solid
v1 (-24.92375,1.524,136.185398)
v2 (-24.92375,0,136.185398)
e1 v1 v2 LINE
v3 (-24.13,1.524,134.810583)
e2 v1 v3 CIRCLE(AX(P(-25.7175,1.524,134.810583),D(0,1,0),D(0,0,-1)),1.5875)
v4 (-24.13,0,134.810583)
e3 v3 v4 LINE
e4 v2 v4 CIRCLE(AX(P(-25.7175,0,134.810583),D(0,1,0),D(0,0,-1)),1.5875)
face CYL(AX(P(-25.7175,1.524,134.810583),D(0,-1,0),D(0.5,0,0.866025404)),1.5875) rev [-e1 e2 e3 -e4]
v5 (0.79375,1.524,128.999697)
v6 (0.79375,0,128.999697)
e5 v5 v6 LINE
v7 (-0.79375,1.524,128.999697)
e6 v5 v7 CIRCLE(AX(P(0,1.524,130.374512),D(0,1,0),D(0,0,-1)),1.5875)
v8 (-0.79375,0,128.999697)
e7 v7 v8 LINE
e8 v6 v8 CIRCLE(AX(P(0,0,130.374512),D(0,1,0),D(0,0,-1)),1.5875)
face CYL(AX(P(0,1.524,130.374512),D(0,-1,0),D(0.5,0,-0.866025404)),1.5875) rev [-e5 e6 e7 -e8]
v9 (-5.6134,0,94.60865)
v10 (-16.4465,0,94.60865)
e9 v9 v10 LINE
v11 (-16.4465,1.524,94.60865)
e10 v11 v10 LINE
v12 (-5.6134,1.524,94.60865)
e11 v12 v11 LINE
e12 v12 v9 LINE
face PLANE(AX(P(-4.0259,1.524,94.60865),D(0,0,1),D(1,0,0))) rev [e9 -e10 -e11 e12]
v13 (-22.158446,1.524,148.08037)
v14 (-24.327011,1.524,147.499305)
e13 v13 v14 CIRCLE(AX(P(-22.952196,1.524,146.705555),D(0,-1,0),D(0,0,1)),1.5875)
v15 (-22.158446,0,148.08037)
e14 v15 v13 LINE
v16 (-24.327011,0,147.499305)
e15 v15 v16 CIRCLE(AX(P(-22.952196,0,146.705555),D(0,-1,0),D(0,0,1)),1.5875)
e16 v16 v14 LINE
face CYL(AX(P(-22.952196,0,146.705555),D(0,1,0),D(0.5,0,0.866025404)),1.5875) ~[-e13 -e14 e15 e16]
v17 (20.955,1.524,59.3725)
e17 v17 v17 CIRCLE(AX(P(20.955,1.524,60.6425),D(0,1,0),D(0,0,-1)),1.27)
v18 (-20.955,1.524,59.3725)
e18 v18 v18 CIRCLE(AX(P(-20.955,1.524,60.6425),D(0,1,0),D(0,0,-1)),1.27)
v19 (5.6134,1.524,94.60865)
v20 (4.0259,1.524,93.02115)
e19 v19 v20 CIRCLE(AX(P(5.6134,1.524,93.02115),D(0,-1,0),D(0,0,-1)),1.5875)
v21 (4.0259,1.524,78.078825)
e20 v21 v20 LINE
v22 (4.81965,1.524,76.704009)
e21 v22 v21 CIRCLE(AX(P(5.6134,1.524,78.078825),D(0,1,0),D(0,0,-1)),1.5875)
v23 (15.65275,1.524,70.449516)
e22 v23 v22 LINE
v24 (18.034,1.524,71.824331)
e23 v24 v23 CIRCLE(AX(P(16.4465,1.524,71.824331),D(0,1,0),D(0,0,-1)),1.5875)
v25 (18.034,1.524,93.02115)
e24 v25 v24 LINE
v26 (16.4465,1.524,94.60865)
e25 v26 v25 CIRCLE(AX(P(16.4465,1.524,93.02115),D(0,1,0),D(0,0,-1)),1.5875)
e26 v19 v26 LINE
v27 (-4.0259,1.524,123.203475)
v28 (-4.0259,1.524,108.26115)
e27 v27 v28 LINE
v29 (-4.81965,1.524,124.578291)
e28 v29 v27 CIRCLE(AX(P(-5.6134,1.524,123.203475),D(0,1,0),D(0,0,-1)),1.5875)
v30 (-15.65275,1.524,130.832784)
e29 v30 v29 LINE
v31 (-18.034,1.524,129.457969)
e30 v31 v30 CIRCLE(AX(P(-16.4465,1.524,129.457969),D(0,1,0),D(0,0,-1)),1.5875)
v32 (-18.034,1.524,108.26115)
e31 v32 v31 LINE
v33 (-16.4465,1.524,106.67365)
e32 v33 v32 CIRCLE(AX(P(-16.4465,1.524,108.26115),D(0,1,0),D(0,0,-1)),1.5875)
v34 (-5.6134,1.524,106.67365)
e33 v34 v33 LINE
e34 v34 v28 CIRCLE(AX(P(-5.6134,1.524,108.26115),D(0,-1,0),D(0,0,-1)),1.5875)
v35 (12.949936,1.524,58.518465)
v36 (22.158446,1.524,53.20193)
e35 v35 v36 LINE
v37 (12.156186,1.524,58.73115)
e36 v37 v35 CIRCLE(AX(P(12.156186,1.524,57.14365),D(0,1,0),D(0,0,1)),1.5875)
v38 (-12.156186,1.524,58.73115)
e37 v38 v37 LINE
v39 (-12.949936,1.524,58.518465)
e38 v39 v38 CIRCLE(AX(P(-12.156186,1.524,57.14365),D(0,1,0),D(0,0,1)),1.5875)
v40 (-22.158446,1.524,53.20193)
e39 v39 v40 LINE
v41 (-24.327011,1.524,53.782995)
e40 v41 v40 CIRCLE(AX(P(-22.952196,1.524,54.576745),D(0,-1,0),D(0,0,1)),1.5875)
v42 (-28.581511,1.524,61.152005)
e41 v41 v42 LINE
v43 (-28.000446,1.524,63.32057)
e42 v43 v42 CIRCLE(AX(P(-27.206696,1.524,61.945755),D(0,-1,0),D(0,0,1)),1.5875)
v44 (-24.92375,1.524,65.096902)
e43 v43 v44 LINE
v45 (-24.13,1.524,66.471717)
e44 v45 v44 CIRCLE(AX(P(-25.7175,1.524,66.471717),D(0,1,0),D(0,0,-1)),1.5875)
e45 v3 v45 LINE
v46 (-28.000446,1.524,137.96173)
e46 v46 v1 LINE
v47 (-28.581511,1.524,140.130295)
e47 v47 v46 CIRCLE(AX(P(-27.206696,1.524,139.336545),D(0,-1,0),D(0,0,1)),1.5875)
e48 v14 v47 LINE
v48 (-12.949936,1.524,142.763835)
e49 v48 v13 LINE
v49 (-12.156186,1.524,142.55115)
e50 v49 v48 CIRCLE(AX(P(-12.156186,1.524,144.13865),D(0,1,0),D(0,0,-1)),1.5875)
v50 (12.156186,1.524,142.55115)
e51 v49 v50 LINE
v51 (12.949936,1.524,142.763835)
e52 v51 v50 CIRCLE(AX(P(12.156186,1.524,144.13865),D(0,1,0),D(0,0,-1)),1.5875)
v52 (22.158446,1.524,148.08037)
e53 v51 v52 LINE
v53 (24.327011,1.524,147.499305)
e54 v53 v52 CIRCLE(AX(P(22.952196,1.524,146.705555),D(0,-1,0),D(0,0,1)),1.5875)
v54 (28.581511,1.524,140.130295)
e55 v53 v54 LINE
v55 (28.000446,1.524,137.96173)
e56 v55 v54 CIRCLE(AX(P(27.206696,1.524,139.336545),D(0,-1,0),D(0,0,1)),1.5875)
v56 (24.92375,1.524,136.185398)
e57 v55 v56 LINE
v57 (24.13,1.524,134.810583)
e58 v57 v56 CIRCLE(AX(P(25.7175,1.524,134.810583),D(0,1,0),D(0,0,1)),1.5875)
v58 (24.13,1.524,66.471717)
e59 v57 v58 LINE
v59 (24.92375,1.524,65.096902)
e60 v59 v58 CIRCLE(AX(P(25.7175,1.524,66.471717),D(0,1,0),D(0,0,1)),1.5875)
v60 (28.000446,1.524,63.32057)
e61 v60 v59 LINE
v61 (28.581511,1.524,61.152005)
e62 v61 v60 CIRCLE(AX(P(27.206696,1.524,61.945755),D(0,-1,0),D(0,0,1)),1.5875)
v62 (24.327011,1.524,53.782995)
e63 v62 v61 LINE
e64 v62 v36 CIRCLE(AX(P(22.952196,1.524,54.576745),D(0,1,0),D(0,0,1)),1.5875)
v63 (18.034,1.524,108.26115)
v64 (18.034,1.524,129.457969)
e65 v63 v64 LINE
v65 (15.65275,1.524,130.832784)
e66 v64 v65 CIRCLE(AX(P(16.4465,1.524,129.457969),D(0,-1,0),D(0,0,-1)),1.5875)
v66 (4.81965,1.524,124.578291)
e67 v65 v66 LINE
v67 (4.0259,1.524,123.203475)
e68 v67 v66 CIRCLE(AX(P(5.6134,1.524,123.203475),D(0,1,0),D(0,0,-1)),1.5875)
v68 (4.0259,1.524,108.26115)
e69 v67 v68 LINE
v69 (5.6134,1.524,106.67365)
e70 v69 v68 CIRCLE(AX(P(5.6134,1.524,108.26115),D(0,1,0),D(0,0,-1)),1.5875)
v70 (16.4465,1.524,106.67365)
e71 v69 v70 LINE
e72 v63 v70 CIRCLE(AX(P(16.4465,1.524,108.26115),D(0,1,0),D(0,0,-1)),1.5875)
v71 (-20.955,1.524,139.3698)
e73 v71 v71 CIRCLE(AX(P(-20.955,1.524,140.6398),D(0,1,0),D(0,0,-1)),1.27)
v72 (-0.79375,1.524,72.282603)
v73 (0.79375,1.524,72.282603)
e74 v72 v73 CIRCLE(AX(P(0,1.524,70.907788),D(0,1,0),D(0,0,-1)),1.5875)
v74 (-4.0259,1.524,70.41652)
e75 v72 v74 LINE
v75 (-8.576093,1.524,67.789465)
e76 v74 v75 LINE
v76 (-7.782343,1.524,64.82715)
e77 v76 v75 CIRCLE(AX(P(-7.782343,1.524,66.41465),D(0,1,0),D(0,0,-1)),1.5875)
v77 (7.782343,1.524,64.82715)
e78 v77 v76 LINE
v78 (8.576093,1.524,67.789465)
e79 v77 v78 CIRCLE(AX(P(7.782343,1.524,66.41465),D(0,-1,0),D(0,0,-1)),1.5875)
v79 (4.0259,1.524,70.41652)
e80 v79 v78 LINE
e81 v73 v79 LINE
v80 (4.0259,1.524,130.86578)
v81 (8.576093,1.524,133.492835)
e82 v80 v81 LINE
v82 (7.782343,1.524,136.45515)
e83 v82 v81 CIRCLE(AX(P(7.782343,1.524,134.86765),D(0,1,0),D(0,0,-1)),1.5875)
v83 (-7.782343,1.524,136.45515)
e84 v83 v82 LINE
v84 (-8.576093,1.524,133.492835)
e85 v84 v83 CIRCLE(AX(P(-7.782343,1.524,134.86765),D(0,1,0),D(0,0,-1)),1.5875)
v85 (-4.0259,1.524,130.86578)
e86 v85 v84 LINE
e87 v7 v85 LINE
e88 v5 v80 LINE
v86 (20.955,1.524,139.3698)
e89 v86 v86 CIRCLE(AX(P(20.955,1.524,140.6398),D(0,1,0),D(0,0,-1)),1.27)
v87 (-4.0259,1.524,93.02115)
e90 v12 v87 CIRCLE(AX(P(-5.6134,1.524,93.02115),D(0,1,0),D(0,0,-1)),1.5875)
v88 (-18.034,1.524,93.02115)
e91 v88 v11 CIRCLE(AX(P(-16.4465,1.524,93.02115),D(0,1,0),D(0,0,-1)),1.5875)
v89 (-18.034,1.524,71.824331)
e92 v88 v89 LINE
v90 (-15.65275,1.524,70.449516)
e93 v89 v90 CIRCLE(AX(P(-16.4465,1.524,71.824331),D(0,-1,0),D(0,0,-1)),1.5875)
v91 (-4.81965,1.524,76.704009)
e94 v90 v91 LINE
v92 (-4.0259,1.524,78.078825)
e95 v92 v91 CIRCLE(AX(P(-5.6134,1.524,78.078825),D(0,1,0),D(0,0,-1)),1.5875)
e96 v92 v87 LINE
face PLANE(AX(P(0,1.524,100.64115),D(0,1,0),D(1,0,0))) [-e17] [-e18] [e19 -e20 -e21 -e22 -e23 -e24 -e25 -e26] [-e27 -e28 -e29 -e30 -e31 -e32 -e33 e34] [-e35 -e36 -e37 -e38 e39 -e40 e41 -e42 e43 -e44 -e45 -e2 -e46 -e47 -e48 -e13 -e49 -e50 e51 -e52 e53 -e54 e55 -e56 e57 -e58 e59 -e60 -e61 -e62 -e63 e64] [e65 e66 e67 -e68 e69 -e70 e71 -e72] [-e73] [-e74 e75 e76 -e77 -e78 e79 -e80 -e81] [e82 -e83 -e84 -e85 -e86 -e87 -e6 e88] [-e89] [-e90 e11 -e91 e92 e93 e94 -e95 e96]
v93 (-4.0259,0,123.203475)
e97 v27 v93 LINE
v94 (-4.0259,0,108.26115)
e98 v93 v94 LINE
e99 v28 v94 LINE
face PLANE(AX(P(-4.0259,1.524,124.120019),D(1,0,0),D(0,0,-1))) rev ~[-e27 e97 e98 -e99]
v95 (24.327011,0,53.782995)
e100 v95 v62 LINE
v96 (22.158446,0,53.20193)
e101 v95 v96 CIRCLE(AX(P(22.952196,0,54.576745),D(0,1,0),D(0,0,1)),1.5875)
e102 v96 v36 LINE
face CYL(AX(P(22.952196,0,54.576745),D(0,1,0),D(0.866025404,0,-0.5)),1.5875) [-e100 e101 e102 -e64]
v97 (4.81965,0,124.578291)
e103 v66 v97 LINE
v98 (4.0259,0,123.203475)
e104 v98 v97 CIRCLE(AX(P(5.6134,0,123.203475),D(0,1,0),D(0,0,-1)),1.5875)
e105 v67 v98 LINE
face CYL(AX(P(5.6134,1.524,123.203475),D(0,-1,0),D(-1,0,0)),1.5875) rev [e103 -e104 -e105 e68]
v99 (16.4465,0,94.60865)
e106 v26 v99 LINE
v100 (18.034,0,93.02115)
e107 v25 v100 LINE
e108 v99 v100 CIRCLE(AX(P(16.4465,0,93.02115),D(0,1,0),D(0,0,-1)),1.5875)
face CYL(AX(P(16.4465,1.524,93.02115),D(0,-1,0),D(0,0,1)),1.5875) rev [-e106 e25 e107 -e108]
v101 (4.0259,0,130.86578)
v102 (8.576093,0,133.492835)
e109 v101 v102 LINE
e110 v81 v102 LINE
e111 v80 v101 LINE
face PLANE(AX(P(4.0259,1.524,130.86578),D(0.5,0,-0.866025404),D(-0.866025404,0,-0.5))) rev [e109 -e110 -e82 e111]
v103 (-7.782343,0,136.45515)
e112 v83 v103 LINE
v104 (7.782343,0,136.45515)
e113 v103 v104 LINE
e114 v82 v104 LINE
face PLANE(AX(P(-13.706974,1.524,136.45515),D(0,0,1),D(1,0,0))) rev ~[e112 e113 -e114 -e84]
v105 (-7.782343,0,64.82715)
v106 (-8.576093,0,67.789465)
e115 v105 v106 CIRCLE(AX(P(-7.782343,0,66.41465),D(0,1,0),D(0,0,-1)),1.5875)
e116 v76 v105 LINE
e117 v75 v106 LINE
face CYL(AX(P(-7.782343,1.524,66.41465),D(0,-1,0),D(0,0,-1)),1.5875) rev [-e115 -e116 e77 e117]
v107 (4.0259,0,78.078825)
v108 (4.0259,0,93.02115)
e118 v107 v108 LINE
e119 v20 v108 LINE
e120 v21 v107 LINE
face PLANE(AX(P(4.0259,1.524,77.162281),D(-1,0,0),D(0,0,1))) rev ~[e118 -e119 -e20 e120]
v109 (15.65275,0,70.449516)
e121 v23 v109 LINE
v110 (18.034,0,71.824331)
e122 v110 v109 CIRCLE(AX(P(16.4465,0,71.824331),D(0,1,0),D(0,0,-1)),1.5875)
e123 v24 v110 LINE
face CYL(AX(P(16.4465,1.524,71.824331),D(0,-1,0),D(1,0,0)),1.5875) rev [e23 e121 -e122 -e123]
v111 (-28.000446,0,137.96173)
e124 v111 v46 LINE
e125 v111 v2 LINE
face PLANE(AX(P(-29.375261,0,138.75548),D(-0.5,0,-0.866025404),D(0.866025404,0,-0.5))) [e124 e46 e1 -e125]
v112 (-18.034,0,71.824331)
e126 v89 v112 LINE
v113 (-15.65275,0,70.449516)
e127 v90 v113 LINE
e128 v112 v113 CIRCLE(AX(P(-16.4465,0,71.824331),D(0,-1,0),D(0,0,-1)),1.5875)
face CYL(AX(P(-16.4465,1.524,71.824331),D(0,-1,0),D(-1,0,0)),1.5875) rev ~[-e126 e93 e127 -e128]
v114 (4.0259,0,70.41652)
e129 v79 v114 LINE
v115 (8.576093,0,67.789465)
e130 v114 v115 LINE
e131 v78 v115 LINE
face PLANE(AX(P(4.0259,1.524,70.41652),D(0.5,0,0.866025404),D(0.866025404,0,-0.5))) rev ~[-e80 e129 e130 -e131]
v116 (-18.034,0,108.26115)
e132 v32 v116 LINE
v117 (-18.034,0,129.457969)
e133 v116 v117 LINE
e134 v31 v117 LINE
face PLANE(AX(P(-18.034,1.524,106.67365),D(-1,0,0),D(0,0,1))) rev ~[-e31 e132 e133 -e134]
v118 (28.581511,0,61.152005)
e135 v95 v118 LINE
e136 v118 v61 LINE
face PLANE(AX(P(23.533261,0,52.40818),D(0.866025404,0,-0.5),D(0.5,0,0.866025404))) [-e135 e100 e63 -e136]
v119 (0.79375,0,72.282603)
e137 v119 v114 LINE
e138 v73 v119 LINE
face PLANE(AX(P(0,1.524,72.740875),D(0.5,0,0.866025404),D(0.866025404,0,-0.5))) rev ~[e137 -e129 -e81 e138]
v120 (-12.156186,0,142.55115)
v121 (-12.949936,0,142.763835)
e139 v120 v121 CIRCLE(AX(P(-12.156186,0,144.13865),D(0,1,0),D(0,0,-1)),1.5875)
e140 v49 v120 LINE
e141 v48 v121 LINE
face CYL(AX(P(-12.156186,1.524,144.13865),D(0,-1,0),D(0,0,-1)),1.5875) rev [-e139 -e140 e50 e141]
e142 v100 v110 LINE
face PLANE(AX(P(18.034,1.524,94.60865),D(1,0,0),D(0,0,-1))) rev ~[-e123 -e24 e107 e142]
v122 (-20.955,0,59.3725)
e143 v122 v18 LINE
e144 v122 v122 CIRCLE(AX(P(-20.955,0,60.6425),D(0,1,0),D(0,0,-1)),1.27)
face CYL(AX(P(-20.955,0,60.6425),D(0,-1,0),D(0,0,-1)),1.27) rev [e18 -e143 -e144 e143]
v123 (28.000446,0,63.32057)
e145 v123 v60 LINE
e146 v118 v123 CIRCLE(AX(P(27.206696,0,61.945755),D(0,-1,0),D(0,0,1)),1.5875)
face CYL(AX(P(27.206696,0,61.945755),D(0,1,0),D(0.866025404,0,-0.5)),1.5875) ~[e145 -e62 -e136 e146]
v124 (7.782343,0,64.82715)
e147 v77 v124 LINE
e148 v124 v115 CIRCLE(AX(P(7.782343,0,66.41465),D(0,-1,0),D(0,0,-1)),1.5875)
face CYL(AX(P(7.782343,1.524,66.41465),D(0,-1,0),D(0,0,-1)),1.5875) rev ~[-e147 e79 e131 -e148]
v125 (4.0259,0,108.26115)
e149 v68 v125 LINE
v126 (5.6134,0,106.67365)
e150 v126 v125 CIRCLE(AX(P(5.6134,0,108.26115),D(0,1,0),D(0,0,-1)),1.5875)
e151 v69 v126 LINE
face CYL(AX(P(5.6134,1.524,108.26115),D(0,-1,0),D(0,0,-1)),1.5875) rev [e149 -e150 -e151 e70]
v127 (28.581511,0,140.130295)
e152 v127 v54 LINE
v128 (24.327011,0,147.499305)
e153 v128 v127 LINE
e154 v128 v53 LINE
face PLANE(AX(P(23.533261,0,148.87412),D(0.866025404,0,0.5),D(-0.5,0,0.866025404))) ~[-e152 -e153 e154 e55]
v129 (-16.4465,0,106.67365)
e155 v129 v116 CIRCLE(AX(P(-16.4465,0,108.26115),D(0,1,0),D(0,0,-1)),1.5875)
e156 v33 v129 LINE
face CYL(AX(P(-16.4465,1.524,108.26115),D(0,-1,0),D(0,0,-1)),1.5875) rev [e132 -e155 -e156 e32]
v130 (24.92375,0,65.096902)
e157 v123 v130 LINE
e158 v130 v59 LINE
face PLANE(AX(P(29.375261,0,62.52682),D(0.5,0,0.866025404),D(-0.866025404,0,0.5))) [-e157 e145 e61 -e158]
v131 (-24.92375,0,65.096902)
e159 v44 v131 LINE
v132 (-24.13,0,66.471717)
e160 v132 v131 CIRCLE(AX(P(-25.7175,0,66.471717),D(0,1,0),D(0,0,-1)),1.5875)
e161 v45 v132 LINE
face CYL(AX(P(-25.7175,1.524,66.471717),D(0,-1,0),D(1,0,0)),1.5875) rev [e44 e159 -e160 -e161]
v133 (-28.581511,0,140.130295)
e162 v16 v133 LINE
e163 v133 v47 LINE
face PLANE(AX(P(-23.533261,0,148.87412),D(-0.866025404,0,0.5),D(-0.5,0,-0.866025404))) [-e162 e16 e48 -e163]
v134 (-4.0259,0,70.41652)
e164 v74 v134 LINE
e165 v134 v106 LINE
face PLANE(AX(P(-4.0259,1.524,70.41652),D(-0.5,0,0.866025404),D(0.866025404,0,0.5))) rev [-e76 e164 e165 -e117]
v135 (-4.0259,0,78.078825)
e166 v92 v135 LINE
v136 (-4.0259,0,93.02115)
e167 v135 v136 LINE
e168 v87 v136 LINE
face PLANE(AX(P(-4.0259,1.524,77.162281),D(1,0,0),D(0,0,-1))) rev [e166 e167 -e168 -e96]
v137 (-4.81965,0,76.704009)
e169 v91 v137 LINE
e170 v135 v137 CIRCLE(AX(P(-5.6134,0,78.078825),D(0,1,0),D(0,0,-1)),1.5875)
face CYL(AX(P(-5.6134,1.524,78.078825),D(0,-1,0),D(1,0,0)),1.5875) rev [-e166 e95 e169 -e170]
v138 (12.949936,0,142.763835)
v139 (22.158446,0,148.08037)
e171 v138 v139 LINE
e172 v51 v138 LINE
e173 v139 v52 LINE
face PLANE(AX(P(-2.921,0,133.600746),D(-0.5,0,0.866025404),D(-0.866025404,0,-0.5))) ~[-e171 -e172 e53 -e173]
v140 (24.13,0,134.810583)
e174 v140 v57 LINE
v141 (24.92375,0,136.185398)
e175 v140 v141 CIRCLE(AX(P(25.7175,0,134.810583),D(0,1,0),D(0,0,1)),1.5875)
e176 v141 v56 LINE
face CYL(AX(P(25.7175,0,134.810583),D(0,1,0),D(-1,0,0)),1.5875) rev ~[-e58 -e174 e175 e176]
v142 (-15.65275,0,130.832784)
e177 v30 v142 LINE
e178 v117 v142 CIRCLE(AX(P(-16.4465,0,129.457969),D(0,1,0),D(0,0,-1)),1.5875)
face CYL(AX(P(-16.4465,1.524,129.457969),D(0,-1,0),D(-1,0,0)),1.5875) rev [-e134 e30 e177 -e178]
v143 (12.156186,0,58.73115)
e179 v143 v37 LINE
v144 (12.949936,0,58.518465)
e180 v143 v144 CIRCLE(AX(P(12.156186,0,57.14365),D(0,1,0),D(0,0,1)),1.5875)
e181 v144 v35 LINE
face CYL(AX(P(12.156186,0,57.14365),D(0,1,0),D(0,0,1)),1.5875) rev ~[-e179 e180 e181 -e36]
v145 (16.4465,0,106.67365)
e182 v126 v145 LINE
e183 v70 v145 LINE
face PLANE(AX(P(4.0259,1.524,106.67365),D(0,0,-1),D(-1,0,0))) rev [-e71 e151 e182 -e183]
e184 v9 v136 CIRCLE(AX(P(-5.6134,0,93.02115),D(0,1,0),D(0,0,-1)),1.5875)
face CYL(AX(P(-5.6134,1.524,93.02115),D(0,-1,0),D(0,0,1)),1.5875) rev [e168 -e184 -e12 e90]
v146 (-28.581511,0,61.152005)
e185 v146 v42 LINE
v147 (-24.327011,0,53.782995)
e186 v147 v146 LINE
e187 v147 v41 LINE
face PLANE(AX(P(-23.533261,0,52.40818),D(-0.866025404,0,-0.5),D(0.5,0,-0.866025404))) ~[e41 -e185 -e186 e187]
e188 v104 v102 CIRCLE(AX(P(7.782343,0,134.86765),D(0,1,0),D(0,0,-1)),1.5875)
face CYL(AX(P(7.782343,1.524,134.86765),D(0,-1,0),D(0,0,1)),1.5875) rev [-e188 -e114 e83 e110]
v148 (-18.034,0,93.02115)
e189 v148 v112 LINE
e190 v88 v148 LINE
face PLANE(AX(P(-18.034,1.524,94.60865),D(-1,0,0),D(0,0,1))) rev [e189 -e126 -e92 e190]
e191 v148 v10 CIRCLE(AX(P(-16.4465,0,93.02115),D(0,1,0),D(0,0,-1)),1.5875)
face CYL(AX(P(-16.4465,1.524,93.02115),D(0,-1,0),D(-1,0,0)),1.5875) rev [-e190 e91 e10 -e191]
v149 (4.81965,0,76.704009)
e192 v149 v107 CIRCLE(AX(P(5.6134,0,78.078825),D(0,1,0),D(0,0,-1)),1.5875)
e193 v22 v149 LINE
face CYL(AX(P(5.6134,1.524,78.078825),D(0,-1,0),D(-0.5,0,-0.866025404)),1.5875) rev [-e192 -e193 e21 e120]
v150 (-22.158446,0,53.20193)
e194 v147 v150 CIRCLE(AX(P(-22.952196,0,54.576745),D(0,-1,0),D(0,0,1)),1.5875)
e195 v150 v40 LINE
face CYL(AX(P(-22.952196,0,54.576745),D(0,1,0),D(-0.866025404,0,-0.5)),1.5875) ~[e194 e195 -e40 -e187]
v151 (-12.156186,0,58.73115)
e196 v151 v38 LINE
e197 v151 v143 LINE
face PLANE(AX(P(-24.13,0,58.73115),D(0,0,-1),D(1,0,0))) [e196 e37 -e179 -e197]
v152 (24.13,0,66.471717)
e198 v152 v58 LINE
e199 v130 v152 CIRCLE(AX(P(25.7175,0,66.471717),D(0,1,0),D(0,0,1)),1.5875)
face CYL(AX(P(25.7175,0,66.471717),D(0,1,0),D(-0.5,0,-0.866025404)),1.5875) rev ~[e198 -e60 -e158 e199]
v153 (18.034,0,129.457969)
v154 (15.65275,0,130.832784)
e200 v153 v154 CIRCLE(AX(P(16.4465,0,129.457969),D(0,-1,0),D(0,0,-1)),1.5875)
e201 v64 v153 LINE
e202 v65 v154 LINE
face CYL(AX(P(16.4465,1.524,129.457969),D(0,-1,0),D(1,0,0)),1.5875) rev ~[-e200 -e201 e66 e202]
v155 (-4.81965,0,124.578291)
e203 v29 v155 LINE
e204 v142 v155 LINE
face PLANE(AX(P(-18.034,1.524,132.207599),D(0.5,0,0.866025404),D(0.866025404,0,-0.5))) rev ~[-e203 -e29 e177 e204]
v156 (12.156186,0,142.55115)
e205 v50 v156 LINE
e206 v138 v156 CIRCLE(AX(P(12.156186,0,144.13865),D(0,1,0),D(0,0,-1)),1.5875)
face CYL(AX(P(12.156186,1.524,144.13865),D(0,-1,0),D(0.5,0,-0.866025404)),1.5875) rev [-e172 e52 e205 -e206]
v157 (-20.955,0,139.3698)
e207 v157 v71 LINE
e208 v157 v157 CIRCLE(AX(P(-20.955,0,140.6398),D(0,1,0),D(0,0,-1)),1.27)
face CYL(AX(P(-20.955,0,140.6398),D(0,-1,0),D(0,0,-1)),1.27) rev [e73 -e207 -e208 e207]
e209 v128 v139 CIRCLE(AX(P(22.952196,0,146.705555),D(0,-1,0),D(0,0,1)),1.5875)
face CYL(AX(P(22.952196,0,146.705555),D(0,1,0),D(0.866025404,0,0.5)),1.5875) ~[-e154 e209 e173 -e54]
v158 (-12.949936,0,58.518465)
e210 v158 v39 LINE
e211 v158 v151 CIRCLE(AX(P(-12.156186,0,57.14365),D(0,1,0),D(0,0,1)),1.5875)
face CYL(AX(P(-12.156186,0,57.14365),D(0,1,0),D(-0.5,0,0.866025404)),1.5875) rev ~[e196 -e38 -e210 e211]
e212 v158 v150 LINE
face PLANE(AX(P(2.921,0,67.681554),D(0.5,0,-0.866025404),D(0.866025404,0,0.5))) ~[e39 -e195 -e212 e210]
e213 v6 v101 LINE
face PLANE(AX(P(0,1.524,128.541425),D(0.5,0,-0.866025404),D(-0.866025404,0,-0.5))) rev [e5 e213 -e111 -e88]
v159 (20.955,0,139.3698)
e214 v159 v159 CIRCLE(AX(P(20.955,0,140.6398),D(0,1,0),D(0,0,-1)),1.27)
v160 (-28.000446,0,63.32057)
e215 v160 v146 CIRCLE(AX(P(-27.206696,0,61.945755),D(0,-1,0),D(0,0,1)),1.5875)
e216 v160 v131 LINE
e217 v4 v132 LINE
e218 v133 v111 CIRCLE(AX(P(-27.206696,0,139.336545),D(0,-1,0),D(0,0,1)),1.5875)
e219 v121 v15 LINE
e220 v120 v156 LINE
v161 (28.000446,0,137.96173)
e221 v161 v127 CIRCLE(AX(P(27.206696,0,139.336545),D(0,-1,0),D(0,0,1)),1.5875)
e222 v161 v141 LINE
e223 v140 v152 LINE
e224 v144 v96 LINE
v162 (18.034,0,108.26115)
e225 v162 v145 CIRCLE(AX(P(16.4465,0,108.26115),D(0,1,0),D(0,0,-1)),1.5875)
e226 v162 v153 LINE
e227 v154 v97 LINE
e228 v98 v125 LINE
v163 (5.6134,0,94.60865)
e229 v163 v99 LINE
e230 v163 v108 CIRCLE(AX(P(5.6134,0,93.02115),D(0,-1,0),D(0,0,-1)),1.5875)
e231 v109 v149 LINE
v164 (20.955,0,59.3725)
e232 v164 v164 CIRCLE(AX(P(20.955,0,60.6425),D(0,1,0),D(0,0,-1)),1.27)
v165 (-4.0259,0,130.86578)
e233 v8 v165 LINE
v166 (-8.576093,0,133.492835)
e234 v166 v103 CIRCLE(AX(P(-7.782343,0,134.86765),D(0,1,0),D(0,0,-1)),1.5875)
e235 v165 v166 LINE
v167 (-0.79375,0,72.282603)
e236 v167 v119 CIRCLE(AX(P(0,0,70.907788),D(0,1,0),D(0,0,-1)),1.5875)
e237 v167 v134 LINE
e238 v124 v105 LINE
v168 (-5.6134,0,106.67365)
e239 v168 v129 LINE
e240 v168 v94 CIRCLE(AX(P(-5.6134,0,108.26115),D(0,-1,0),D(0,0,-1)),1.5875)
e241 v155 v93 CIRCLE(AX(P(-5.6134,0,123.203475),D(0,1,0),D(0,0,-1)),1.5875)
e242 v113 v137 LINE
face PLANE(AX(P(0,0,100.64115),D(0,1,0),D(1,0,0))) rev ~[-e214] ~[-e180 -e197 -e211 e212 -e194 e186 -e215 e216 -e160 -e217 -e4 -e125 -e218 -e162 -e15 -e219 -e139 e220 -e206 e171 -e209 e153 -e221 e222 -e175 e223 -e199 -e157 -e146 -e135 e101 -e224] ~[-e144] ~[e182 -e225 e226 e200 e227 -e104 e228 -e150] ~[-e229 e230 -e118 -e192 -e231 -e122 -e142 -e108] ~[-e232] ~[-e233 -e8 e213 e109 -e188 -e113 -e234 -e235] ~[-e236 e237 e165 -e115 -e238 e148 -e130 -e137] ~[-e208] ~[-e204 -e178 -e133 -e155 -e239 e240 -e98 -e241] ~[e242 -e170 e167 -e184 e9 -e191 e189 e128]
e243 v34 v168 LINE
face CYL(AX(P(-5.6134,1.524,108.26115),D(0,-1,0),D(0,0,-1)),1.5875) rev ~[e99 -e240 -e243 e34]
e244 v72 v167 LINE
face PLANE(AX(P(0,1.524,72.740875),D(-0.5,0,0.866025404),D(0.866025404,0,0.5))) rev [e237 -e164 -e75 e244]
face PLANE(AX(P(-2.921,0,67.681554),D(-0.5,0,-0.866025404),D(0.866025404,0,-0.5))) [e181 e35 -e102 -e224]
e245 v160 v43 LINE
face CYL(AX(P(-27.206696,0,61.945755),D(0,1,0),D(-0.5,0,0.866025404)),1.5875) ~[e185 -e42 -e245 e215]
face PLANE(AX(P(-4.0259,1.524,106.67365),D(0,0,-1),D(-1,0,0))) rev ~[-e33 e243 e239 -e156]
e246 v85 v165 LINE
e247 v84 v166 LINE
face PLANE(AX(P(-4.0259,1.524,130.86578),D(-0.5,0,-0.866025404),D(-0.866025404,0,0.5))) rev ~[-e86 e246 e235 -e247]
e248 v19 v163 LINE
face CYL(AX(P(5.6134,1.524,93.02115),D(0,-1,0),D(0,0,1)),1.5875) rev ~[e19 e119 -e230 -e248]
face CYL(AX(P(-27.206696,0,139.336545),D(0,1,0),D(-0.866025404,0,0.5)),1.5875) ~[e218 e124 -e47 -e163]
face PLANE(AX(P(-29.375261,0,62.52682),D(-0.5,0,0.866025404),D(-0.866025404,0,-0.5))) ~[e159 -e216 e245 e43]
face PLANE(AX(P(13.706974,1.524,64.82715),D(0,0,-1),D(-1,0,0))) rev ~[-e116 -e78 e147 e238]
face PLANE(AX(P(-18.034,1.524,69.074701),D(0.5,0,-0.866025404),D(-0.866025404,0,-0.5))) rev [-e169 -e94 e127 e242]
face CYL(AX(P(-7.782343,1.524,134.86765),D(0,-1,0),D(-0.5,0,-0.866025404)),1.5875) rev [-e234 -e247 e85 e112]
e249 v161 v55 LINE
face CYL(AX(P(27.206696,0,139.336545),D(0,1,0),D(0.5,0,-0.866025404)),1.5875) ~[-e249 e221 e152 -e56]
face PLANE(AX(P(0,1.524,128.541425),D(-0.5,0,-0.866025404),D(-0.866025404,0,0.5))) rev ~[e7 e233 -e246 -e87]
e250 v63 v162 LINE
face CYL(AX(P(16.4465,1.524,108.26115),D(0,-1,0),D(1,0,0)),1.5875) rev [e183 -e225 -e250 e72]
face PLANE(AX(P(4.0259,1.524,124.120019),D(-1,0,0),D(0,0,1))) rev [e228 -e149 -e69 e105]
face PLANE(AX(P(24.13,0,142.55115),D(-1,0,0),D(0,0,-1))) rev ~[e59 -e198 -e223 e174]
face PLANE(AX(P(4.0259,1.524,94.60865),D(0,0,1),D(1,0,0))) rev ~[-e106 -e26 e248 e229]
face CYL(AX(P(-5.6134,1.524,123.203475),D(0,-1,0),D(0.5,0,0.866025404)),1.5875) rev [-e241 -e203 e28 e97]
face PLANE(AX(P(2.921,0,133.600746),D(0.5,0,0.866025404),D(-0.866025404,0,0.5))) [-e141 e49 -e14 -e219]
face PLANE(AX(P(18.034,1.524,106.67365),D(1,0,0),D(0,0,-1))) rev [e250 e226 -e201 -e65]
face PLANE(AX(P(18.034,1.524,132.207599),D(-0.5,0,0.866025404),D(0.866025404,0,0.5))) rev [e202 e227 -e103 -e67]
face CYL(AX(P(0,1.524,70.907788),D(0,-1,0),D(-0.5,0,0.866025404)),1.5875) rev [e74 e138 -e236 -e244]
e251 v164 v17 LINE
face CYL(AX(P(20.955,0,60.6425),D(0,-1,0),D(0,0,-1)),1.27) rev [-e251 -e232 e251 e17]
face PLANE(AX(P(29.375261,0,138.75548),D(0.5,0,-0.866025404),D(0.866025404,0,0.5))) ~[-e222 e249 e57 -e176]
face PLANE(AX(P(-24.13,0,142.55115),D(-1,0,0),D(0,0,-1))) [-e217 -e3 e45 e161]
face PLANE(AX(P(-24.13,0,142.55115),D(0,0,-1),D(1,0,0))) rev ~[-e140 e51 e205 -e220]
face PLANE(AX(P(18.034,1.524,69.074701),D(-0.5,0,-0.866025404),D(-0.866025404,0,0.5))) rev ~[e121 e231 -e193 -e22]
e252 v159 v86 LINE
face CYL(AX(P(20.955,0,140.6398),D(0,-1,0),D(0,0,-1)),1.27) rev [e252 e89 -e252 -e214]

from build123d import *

# Parameters (mm, degrees)
SKETCH2_W               = 48.26
SKETCH2_H               = 83.82
SKETCH2_R               = 1.27
BOSS_EXTRUDE1_DEPTH     = 1.524
SKETCH3_R               = 1.27
BOSS_EXTRUDE2_DEPTH     = 1.524
MIRROR2_COPY_1_SKETCH_R = 1.27
MIRROR2_COPY_1_DEPTH    = 1.524
CUT_EXTRUDE1_DEPTH      = 1.524
MIRROR4_COPY_1_DEPTH    = 1.524
FILLET1_R               = 1.5875


with BuildPart() as part:
    # Sketch2 → Boss-Extrude1 (new body)
    with BuildSketch(Plane(origin=(0, 0, 0), x_dir=(1, 0, 0), z_dir=(0, 1, 0))):
        with Locations((0, -100.64115)):
            Rectangle(SKETCH2_W, SKETCH2_H)
        with Locations(Location((20.955, -140.6398, 0), (0, 0, 90))):
            Circle(SKETCH2_R, mode=Mode.SUBTRACT)
        with Locations(Location((-20.955, -140.6398, 0), (0, 0, 90))):
            Circle(SKETCH2_R, mode=Mode.SUBTRACT)
        with Locations(Location((20.955, -60.6425, 0), (0, 0, 90))):
            Circle(SKETCH2_R, mode=Mode.SUBTRACT)
        with Locations(Location((-20.955, -60.6425, 0), (0, 0, 90))):
            Circle(SKETCH2_R, mode=Mode.SUBTRACT)
    extrude(amount=BOSS_EXTRUDE1_DEPTH)

    # Sketch3 → Boss-Extrude2 (add, through all)
    with BuildSketch(Plane(origin=(0, 0, 0), x_dir=(1, 0, 0), z_dir=(0, 1, 0))):
        Polygon((-2.921, -67.681554482), (23.533261314, -52.408179591), (29.375261314, -62.526820409), (2.921, -77.8001953), align=None)
        with Locations(Location((20.955, -60.6425, 0), (0, 0, 90))):
            Circle(SKETCH3_R, mode=Mode.SUBTRACT)
    boss_extrude2 = extrude(amount=BOSS_EXTRUDE2_DEPTH)

    # Mirror1: Boss-Extrude2 across plane
    add(boss_extrude2.mirror(Plane.XY.offset(100.64115)))

    # Mirror2: Boss-Extrude2 across plane
    add(boss_extrude2.mirror(Plane(origin=(0, 0, 0), x_dir=(0, 0, 1), z_dir=(1, 0, 0))))

    # Mirror2 copy 1 sketch → Mirror2 copy 1 (add, through all)
    with BuildSketch(Plane(origin=(0, 0, 201.2823), x_dir=(-1, 0, 0), z_dir=(0, 1, 0))):
        Polygon((-2.921, -67.681554482), (23.533261314, -52.408179591), (29.375261314, -62.526820409), (2.921, -77.8001953), align=None)
        with Locations(Location((20.955, -60.6425, 0), (0, 0, 90))):
            Circle(MIRROR2_COPY_1_SKETCH_R, mode=Mode.SUBTRACT)
    extrude(amount=MIRROR2_COPY_1_DEPTH)

    # Sketch4 → Cut-Extrude1 (cut)
    with BuildSketch(Plane(origin=(0, 1.524, 0), x_dir=(1, 0, 0), z_dir=(0, 1, 0))):
        Polygon((4.0259, -77.162280987), (4.0259, -94.60865), (18.034, -94.60865), (18.034, -69.074700682), align=None)
        Polygon((4.0259, -64.82715), (4.0259, -70.416520442), (13.706973588, -64.82715), align=None)
        Polygon((4.0259, -64.82715), (0, -64.82715), (0, -72.740874891), (4.0259, -70.416520442), align=None)
    cut_extrude1 = extrude(amount=-CUT_EXTRUDE1_DEPTH, mode=Mode.SUBTRACT)

    # Mirror3: Cut-Extrude1 across plane
    add(cut_extrude1.mirror(Plane(origin=(0, 0, 0), x_dir=(0, 0, 1), z_dir=(1, 0, 0))), mode=Mode.SUBTRACT)

    # Mirror4: Cut-Extrude1 across plane
    add(cut_extrude1.mirror(Plane.XY.offset(100.64115)), mode=Mode.SUBTRACT)

    # Mirror4 copy 1 sketch → Mirror4 copy 1 (cut)
    with BuildSketch(Plane(origin=(0, 1.524, 201.2823), x_dir=(-1, 0, 0), z_dir=(0, 1, 0))):
        Polygon((4.0259, -77.162280987), (4.0259, -94.60865), (18.034, -94.60865), (18.034, -69.074700682), align=None)
        Polygon((4.0259, -64.82715), (4.0259, -70.416520442), (13.706973588, -64.82715), align=None)
        Polygon((4.0259, -64.82715), (0, -64.82715), (0, -72.740874891), (4.0259, -70.416520442), align=None)
    extrude(amount=-MIRROR4_COPY_1_DEPTH, mode=Mode.SUBTRACT)

    # Fillet1
    fillet1_edges = [part.edges().sort_by_distance(p)[0] for p in [
        (-29.375261314, 0.762, 138.755479591),
        (18.034, 0.762, 69.074700682),
        (18.034, 0.762, 94.60865),
        (4.0259, 0.762, 94.60865),
        (4.0259, 0.762, 77.162280987),
        (13.706973588, 0.762, 64.82715),
        (0, 0.762, 72.740874891),
        (-18.034, 0.762, 94.60865),
        (-18.034, 0.762, 69.074700682),
        (-4.0259, 0.762, 77.162280987),
        (-4.0259, 0.762, 94.60865),
        (-13.706973588, 0.762, 64.82715),
        (-18.034, 0.762, 132.207599318),
        (-18.034, 0.762, 106.67365),
        (-4.0259, 0.762, 106.67365),
        (-4.0259, 0.762, 124.120019013),
        (-13.706973588, 0.762, 136.45515),
        (0, 0.762, 128.541425109),
        (18.034, 0.762, 106.67365),
        (18.034, 0.762, 132.207599318),
        (4.0259, 0.762, 124.120019013),
        (4.0259, 0.762, 106.67365),
        (13.706973588, 0.762, 136.45515),
        (24.13, 0.762, 65.555173441),
        (12.581555311, 0.762, 58.73115),
        (29.375261314, 0.762, 62.526820409),
        (23.533261314, 0.762, 52.408179591),
        (12.581555311, 0.762, 142.55115),
        (23.533261314, 0.762, 148.874120409),
        (24.13, 0.762, 135.727126559),
        (29.375261314, 0.762, 138.755479591),
        (-29.375261314, 0.762, 62.526820409),
        (-12.581555311, 0.762, 58.73115),
        (-23.533261314, 0.762, 52.408179591),
        (-24.13, 0.762, 65.555173441),
        (-24.13, 0.762, 135.727126559),
        (-12.581555311, 0.762, 142.55115),
        (-23.533261314, 0.762, 148.874120409),
    ]]
    fillet(fillet1_edges, radius=FILLET1_R)


solid = part.part
